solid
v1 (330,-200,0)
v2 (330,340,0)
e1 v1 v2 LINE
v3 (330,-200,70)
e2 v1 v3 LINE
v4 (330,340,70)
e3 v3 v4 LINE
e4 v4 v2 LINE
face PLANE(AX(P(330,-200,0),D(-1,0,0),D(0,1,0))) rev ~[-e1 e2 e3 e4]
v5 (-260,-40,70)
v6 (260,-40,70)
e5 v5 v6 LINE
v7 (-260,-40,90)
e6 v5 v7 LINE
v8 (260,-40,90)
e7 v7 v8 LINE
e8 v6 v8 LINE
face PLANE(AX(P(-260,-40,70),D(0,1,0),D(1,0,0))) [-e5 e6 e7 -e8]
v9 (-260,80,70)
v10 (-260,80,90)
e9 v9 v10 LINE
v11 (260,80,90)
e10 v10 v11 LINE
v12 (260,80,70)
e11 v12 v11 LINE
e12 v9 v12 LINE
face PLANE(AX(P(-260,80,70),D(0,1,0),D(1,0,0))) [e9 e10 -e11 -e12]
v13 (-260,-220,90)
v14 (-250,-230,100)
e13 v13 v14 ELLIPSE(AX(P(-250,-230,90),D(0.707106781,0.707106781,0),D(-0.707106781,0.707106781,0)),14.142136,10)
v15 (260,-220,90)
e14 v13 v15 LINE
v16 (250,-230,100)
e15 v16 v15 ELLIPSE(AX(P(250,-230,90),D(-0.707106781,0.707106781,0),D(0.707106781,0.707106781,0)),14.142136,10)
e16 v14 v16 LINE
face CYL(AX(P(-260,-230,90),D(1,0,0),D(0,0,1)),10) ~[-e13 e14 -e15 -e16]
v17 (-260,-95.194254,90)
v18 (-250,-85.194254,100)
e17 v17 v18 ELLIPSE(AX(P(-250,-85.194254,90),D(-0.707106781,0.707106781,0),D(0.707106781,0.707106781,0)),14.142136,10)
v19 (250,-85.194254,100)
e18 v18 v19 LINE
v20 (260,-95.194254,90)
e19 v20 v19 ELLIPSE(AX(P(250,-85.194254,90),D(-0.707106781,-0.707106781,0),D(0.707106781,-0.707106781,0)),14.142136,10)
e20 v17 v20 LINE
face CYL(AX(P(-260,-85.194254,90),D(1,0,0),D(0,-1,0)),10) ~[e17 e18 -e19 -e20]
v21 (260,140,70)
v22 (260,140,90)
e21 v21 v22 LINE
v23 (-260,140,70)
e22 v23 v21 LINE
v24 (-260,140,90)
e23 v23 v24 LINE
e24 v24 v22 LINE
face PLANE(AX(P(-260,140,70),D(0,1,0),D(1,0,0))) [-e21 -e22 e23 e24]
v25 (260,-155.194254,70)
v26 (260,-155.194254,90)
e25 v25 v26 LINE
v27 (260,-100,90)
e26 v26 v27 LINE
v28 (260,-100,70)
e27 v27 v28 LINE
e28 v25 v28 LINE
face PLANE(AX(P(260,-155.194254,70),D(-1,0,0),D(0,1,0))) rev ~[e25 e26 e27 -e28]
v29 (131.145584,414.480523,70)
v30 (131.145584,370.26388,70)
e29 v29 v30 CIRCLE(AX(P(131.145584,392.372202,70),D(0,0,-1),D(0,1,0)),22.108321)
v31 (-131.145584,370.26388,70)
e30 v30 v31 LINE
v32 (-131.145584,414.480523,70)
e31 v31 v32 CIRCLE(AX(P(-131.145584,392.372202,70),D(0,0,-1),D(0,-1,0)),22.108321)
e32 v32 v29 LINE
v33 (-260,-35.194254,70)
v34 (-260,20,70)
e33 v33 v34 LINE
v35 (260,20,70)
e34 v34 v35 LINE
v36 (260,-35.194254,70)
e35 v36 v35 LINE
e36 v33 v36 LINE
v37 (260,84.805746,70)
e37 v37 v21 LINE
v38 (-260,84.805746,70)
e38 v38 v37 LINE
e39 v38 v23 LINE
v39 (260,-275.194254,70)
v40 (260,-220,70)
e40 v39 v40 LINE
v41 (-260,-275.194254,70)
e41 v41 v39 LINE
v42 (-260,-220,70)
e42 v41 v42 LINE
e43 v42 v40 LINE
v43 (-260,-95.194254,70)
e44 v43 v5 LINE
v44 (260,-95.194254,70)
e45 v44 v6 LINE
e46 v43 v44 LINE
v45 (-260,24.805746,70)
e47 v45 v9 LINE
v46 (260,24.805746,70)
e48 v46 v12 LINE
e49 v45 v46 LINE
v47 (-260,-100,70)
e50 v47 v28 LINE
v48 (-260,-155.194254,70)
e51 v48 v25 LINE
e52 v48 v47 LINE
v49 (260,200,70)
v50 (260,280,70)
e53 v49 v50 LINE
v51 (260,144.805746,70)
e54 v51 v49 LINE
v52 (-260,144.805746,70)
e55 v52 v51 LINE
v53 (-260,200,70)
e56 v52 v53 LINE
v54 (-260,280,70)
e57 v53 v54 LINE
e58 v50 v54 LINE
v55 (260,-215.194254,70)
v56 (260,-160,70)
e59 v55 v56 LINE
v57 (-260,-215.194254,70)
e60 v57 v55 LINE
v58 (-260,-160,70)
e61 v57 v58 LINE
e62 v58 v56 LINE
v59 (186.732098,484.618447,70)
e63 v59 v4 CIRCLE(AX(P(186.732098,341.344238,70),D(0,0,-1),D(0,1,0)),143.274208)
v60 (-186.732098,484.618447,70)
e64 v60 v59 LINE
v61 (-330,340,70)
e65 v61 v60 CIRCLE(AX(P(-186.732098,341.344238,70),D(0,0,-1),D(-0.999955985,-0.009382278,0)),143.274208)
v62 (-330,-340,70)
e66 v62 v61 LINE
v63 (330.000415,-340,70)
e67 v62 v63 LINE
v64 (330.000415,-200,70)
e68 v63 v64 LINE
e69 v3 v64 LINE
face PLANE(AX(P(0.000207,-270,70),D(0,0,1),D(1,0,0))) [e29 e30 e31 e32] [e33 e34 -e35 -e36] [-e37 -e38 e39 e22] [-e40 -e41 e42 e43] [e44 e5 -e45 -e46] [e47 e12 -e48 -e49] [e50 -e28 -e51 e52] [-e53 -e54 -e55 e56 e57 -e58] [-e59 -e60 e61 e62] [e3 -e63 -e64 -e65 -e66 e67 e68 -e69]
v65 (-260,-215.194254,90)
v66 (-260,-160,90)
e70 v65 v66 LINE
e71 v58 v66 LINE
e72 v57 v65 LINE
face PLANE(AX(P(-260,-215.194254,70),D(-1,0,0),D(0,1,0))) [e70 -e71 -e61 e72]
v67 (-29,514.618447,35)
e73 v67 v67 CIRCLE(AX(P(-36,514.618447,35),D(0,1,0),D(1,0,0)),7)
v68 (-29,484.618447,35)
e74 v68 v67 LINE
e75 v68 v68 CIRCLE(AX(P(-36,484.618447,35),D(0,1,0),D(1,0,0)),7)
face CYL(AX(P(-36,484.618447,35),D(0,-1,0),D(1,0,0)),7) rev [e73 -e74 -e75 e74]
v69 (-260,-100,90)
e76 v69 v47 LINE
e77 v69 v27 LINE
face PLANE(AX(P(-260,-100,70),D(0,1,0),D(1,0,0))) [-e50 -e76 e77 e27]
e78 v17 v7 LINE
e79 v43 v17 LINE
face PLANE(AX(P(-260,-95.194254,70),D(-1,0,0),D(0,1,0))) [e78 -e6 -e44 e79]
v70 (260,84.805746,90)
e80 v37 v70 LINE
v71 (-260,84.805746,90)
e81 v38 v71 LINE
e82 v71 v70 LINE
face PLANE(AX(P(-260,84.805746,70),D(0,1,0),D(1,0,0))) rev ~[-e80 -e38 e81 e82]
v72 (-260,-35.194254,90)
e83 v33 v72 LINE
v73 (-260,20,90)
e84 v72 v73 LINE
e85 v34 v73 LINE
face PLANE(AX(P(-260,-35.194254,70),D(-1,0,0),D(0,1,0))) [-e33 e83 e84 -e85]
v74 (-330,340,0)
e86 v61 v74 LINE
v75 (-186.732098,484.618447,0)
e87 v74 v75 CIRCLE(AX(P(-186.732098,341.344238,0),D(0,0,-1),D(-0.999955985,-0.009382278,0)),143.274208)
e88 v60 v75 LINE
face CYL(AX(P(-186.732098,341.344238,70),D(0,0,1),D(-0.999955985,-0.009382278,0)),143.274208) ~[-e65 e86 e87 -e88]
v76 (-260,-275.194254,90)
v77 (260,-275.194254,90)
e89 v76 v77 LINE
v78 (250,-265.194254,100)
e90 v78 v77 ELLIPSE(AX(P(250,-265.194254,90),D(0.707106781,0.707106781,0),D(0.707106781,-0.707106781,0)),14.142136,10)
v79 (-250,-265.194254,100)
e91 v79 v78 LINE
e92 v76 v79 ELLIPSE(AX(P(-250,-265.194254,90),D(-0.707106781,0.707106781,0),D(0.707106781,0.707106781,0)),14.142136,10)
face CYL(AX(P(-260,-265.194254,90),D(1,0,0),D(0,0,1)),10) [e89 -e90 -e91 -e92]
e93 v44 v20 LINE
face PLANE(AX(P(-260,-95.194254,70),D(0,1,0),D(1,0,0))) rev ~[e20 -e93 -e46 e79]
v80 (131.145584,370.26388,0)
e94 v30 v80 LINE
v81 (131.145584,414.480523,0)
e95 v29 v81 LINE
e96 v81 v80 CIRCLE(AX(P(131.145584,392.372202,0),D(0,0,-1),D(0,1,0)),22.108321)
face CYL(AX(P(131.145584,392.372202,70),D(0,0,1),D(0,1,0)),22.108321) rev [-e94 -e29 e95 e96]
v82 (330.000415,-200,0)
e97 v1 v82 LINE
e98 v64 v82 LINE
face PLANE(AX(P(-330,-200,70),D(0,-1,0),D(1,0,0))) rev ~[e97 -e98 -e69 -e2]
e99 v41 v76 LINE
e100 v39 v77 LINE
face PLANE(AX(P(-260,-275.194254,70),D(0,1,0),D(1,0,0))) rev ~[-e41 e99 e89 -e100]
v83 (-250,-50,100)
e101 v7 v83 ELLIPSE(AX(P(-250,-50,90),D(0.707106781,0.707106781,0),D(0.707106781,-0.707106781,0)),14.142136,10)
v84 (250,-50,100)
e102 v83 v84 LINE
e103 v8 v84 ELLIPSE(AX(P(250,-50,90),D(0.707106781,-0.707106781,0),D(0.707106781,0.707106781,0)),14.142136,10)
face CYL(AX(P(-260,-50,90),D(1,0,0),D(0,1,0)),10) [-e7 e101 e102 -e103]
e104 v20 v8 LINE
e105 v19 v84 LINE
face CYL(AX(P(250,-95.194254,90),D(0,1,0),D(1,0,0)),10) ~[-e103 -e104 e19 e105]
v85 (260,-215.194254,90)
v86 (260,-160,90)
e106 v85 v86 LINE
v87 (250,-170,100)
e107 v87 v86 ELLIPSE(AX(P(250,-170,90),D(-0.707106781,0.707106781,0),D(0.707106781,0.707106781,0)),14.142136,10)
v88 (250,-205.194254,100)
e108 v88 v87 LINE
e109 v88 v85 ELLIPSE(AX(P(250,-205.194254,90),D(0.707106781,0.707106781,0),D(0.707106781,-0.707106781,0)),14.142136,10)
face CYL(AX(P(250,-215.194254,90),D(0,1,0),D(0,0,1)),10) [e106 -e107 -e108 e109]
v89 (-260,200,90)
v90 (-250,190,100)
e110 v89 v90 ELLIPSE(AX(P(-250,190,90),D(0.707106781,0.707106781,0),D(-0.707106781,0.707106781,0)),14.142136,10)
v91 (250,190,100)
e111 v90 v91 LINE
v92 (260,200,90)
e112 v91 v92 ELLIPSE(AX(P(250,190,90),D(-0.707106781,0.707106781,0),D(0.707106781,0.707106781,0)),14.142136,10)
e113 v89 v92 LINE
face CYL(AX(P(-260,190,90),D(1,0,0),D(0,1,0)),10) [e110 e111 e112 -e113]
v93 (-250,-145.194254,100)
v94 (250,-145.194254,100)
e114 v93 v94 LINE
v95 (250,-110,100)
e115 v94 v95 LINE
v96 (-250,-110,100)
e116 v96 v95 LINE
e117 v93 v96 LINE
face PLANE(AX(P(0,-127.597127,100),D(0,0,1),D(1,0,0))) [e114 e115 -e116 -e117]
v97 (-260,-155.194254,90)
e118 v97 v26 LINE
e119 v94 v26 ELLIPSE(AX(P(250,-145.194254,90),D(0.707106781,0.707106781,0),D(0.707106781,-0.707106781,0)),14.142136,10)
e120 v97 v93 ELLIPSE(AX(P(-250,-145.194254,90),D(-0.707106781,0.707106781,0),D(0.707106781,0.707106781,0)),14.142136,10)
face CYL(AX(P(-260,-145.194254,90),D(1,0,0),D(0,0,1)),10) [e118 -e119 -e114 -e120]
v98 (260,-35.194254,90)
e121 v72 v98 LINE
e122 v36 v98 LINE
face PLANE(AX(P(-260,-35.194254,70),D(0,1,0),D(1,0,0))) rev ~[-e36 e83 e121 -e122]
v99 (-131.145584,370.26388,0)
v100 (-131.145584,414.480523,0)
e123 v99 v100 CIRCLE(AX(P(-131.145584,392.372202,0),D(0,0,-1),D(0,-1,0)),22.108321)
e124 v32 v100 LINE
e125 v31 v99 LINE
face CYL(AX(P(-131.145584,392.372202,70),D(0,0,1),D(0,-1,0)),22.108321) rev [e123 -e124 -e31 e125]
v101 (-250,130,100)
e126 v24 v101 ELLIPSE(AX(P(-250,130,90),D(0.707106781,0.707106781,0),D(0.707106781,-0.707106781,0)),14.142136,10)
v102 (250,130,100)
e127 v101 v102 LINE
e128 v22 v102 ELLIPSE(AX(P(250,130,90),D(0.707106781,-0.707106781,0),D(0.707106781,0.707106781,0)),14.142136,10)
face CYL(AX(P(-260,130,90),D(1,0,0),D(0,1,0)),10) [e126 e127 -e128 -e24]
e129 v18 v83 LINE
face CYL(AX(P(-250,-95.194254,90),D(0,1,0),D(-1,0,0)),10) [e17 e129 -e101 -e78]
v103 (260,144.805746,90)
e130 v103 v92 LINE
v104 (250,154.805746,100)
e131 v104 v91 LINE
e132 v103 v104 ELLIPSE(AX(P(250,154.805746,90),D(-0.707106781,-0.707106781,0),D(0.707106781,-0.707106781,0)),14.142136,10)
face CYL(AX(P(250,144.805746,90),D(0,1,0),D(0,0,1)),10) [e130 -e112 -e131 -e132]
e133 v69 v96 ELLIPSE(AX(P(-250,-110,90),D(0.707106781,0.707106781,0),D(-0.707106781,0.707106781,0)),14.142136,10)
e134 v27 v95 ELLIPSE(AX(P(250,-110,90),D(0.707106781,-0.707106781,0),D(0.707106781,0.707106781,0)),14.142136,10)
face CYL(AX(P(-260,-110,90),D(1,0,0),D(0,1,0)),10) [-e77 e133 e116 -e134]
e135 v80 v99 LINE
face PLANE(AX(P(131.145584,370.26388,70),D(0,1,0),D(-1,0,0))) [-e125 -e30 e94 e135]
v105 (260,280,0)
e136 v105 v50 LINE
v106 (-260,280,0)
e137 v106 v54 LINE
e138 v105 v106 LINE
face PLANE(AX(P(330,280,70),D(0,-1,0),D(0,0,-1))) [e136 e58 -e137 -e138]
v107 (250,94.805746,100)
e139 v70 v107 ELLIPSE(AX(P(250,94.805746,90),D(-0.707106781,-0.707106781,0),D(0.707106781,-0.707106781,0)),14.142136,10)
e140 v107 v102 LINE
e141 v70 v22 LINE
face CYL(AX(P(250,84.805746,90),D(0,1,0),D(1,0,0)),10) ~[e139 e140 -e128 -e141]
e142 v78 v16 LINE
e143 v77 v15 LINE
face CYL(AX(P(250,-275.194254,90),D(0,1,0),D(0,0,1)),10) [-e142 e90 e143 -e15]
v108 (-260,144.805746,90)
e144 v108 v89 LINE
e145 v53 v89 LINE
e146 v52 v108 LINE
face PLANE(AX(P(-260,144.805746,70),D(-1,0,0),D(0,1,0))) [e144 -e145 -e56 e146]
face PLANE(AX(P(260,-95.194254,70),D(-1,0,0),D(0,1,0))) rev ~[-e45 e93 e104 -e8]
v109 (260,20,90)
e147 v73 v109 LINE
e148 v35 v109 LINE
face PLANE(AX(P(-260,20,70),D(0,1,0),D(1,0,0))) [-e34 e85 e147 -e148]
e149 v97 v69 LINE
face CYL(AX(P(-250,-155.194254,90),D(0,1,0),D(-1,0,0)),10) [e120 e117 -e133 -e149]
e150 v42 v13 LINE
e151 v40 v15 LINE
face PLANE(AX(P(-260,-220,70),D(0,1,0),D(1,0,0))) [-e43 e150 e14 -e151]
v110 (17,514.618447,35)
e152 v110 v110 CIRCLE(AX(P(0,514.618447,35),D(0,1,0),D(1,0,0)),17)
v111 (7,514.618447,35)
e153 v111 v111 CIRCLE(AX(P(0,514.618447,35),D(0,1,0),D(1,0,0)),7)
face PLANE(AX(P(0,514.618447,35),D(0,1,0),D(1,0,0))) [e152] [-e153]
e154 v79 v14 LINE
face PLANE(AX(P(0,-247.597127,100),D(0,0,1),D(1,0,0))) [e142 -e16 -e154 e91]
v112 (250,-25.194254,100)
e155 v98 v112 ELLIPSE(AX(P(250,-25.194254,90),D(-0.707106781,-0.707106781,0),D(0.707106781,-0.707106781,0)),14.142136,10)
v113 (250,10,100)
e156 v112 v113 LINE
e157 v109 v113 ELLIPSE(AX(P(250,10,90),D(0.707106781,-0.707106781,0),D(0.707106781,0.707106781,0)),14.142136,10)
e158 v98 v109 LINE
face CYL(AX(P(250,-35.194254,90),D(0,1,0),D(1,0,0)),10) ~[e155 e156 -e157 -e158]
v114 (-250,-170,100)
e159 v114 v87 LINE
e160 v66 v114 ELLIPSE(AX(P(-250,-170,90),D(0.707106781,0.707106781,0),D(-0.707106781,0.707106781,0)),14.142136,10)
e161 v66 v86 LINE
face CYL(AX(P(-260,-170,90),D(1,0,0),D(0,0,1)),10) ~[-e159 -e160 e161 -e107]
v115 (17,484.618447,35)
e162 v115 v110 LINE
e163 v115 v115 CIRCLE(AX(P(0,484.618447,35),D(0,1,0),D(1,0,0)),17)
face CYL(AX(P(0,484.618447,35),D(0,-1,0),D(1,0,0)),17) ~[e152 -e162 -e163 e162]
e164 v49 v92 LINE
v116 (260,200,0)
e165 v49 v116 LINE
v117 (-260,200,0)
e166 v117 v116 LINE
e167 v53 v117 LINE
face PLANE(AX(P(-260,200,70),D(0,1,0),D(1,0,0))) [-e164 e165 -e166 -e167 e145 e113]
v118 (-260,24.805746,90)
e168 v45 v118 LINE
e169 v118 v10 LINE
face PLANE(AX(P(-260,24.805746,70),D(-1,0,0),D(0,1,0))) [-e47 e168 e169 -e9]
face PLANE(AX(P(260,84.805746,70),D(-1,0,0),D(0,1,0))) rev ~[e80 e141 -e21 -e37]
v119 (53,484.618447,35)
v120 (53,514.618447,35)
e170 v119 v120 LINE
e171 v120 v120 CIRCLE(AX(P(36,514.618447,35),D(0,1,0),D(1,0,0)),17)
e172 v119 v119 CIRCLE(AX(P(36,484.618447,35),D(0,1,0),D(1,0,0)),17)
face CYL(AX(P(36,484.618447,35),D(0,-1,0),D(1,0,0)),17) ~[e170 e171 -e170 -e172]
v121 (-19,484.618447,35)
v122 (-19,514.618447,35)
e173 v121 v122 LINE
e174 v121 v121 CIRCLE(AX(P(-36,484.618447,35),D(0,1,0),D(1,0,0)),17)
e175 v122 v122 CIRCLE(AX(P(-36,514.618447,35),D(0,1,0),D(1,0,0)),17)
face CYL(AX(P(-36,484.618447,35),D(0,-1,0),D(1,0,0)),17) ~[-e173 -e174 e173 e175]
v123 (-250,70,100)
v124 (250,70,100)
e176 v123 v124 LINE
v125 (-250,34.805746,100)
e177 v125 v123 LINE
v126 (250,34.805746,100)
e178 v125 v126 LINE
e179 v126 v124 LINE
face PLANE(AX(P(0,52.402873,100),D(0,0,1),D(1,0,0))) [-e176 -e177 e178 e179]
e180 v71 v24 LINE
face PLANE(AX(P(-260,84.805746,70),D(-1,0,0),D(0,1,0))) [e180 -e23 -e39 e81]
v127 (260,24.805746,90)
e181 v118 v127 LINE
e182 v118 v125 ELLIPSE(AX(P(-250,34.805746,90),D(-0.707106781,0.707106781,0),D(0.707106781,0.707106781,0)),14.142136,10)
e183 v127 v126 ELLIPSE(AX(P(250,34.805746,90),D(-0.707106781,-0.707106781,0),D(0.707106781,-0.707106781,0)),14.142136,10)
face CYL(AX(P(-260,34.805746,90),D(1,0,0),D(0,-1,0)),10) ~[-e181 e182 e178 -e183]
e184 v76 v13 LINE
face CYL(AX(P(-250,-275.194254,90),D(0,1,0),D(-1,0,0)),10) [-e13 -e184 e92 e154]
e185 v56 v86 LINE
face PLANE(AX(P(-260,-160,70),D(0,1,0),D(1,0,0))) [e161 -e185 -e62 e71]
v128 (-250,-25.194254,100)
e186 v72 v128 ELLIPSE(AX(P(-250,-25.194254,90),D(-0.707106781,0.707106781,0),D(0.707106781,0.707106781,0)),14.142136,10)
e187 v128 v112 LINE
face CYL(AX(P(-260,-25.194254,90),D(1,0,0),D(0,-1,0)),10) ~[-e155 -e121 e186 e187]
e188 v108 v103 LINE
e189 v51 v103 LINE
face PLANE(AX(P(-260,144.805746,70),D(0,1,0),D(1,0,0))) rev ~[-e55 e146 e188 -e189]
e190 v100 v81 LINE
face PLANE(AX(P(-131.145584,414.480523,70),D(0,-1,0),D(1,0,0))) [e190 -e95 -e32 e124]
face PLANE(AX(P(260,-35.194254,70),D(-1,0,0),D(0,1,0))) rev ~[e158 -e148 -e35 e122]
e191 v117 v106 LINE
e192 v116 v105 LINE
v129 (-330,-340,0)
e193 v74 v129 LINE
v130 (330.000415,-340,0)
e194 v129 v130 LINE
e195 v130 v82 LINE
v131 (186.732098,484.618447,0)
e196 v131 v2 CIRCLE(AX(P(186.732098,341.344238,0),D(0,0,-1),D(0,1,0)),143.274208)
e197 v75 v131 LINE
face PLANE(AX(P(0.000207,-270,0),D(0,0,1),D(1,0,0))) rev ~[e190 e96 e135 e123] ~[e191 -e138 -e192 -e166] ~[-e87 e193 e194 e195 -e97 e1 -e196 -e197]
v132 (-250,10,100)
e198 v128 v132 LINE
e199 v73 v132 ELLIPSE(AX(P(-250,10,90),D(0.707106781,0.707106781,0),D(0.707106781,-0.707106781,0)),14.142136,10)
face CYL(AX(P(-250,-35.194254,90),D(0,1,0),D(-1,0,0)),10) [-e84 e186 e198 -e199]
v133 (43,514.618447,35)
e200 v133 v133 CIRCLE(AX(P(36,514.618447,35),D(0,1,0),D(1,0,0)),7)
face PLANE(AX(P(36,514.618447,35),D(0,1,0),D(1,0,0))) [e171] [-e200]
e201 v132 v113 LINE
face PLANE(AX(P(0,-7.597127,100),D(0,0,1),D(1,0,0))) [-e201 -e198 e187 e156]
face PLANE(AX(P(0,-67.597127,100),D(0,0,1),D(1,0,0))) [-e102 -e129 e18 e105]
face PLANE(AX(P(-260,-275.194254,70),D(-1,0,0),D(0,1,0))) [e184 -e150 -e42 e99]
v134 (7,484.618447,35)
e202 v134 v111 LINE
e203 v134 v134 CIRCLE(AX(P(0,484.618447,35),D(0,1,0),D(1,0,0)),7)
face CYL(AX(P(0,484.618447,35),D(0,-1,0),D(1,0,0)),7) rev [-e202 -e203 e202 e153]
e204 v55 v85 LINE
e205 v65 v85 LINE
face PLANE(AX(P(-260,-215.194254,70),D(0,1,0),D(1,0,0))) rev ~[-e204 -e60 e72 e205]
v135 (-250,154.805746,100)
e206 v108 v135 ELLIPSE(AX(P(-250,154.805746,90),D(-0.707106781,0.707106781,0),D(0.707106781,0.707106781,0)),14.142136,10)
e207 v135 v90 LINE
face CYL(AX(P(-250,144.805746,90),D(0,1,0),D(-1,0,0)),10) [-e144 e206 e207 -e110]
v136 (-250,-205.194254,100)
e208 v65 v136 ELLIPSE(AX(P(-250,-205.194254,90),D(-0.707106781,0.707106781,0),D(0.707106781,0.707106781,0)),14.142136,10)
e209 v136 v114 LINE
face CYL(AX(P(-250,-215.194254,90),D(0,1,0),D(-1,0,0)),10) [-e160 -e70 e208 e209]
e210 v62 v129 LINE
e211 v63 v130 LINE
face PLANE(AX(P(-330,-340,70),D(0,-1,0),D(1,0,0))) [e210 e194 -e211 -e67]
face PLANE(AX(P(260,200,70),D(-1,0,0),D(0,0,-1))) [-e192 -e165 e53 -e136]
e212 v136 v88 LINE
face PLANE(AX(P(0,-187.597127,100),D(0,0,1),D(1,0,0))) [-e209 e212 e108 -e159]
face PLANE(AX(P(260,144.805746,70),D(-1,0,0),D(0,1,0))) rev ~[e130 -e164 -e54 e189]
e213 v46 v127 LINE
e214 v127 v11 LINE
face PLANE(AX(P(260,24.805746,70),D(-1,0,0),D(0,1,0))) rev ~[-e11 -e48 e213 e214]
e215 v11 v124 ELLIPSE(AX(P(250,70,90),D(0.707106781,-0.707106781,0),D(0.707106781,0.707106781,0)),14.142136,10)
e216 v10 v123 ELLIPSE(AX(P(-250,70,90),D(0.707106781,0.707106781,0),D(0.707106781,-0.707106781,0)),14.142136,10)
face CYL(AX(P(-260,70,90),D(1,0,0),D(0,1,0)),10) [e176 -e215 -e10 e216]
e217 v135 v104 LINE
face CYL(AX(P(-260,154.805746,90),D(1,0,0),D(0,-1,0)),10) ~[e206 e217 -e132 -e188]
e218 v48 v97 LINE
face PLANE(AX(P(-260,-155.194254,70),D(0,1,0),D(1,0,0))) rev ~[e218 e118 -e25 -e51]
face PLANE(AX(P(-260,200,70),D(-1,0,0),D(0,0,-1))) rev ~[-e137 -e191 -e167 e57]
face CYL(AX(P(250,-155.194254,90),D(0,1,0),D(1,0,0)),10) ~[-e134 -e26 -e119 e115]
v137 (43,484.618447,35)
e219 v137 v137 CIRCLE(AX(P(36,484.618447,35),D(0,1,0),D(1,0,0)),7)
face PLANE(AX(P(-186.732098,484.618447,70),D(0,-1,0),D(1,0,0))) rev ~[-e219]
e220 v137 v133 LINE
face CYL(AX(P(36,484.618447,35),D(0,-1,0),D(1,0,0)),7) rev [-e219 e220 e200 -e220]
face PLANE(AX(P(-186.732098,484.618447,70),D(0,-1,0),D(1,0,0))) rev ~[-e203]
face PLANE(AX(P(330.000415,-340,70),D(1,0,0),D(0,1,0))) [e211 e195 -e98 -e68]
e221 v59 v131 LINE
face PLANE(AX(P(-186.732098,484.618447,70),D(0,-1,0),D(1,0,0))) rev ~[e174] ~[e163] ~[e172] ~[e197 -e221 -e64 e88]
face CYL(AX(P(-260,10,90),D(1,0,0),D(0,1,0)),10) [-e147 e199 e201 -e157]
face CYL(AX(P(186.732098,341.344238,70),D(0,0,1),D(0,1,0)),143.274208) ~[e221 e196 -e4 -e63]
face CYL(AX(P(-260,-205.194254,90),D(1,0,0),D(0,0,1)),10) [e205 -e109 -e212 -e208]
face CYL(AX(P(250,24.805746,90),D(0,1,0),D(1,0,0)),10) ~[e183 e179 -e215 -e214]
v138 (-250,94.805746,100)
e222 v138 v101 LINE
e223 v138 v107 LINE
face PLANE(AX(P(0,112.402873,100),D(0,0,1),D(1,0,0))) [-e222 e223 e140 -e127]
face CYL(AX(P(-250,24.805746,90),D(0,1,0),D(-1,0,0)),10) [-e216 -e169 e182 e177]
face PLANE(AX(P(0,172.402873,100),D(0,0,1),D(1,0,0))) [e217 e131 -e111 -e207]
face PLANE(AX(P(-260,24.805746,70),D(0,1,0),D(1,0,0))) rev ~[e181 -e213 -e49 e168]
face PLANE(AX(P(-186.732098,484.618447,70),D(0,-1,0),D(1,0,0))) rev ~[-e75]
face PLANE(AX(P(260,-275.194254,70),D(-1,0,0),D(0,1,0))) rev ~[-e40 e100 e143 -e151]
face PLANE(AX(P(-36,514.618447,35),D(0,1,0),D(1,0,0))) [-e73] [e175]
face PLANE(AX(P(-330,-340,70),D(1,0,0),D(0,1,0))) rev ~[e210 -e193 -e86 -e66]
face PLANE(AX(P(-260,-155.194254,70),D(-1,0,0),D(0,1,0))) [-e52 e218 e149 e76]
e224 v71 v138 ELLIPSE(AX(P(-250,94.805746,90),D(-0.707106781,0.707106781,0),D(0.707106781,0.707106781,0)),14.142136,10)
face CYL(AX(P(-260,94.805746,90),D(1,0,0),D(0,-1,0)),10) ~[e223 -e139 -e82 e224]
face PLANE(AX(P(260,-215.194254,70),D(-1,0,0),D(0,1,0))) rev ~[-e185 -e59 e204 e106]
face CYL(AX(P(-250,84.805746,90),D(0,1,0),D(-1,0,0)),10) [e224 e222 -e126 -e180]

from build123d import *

# Parameters (mm, degrees)
SKETCH1_W           = 660
SKETCH1_H           = 400
BOSS_EXTRUDE1_DEPTH = 70
SKETCH2_W           = 70
SKETCH2_H           = 70
BOSS_EXTRUDE2_DEPTH = 140
SKETCH3_W           = 70
SKETCH3_H           = 60
BOSS_EXTRUDE3_DEPTH = 660
BOSS_EXTRUDE4_DEPTH = 70
SKETCH5_W           = 520
SKETCH5_H           = 55.194253578
BOSS_EXTRUDE5_DEPTH = 30
FILLET1_R           = 10
SKETCH6_R           = 17
SKETCH6_R_2         = 7
BOSS_EXTRUDE6_DEPTH = 30
SKETCH9_W           = 660.000414718
SKETCH9_H           = 140
BOSS_EXTRUDE7_DEPTH = 70
SKETCH10_W          = 520
SKETCH10_H          = 55.194253578
BOSS_EXTRUDE8_DEPTH = 30
FILLET2_R           = 10


with BuildPart() as part:
    # Sketch1 → Boss-Extrude1 (new body)
    with BuildSketch(Plane.XY):
        Rectangle(SKETCH1_W, SKETCH1_H)
    extrude(amount=BOSS_EXTRUDE1_DEPTH)

    # Sketch2 → Boss-Extrude2 (add)
    with BuildSketch(Plane(origin=(0, 200, 0), x_dir=(1, 0, 0), z_dir=(0, 1, 0))):
        with Locations((-295, -35)):
            Rectangle(SKETCH2_W, SKETCH2_H)
        with Locations((295, -35)):
            Rectangle(SKETCH2_W, SKETCH2_H)
    extrude(amount=BOSS_EXTRUDE2_DEPTH)

    # Sketch3 → Boss-Extrude3 (add)
    with BuildSketch(Plane(origin=(330, 0, 0), x_dir=(0, 0, -1), z_dir=(1, 0, 0))):
        with Locations((-35, 310)):
            Rectangle(SKETCH3_W, SKETCH3_H)
    extrude(amount=-BOSS_EXTRUDE3_DEPTH)

    # Sketch4 → Boss-Extrude4 (add)
    with BuildSketch(Plane.XY.offset(70)):
        with BuildLine():
            Line((-186.732097713, 484.618446846), (186.732097713, 484.618446846))
            ThreePointArc((186.732097713, 484.618446846), (288.516412558, 442.178022701), (330, 340))
            Line((330, 340), (-330, 340))
            ThreePointArc((-330, 340), (-288.516412558, 442.178022701), (-186.732097713, 484.618446846))
        make_face()
        with BuildLine():
            Line((-131.145584022, 414.4805226), (131.145584022, 414.4805226))
            ThreePointArc((131.145584022, 414.4805226), (153.253905114, 392.372201507), (131.145584022, 370.263880415))
            Line((131.145584022, 370.263880415), (-131.145584022, 370.263880415))
            ThreePointArc((-131.145584022, 370.263880415), (-153.253905114, 392.372201507), (-131.145584022, 414.4805226))
        make_face(mode=Mode.SUBTRACT)
    extrude(amount=-BOSS_EXTRUDE4_DEPTH)

    # Sketch5 → Boss-Extrude5 (add)
    with BuildSketch(Plane.XY.offset(70)):
        with Locations((0, 172.402873211)):
            Rectangle(SKETCH5_W, SKETCH5_H)
        with Locations((0, 112.402873211)):
            Rectangle(SKETCH5_W, SKETCH5_H)
        with Locations((0, 52.402873211)):
            Rectangle(SKETCH5_W, SKETCH5_H)
        with Locations((0, -7.597126789)):
            Rectangle(SKETCH5_W, SKETCH5_H)
        with Locations((0, -67.597126789)):
            Rectangle(SKETCH5_W, SKETCH5_H)
        with Locations((0, -127.597126789)):
            Rectangle(SKETCH5_W, SKETCH5_H)
    extrude(amount=BOSS_EXTRUDE5_DEPTH)

    # Fillet1
    fillet1_edges = [part.edges().sort_by_distance(p)[0] for p in [
        (0, 140, 100),
        (-260, 112.402873211, 100),
        (0, 84.805746422, 100),
        (260, 112.402873211, 100),
        (0, 80, 100),
        (-260, 52.402873211, 100),
        (0, 24.805746422, 100),
        (260, 52.402873211, 100),
        (0, 20, 100),
        (-260, -7.597126789, 100),
        (0, -35.194253578, 100),
        (260, -7.597126789, 100),
        (0, -40, 100),
        (-260, -67.597126789, 100),
        (0, -95.194253578, 100),
        (260, -67.597126789, 100),
        (0, -100, 100),
        (-260, -127.597126789, 100),
        (0, -155.194253578, 100),
        (260, -127.597126789, 100),
        (-260, 172.402873211, 100),
        (0, 144.805746422, 100),
        (260, 172.402873211, 100),
        (0, 200, 100),
    ]]
    fillet(fillet1_edges, radius=FILLET1_R)

    # Sketch6 → Boss-Extrude6 (add)
    with BuildSketch(Plane(origin=(0, 484.618446846, 0), x_dir=(1, 0, 0), z_dir=(0, 1, 0))):
        with Locations((-36, -35)):
            Circle(SKETCH6_R)
        with Locations((-36, -35)):
            Circle(SKETCH6_R_2, mode=Mode.SUBTRACT)
        with Locations((0, -35)):
            Circle(SKETCH6_R)
        with Locations((0, -35)):
            Circle(SKETCH6_R_2, mode=Mode.SUBTRACT)
        with Locations((36, -35)):
            Circle(SKETCH6_R)
        with Locations((36, -35)):
            Circle(SKETCH6_R_2, mode=Mode.SUBTRACT)
    extrude(amount=BOSS_EXTRUDE6_DEPTH)

    # Sketch9 → Boss-Extrude7 (add)
    with BuildSketch(Plane.XY.offset(70)):
        with Locations((0.000207359, -270)):
            Rectangle(SKETCH9_W, SKETCH9_H)
    extrude(amount=-BOSS_EXTRUDE7_DEPTH)

    # Sketch10 → Boss-Extrude8 (add)
    with BuildSketch(Plane.XY.offset(70)):
        with Locations((0, -187.597126789)):
            Rectangle(SKETCH10_W, SKETCH10_H)
        with Locations((0, -127.597126789)):
            Rectangle(SKETCH10_W, SKETCH10_H)
        with Locations((0, -247.597126789)):
            Rectangle(SKETCH10_W, SKETCH10_H)
    extrude(amount=BOSS_EXTRUDE8_DEPTH)

    # Fillet2
    fillet2_edges = [part.edges().sort_by_distance(p)[0] for p in [
        (-260, -127.597126789, 100),
        (0, -155.194253578, 100),
        (260, -127.597126789, 100),
        (0, -100, 100),
        (-260, -187.597126789, 100),
        (0, -215.194253578, 100),
        (260, -187.597126789, 100),
        (0, -160, 100),
        (-260, -247.597126789, 100),
        (0, -275.194253578, 100),
        (260, -247.597126789, 100),
        (0, -220, 100),
    ]]
    fillet(fillet2_edges, radius=FILLET2_R)


solid = part.part
